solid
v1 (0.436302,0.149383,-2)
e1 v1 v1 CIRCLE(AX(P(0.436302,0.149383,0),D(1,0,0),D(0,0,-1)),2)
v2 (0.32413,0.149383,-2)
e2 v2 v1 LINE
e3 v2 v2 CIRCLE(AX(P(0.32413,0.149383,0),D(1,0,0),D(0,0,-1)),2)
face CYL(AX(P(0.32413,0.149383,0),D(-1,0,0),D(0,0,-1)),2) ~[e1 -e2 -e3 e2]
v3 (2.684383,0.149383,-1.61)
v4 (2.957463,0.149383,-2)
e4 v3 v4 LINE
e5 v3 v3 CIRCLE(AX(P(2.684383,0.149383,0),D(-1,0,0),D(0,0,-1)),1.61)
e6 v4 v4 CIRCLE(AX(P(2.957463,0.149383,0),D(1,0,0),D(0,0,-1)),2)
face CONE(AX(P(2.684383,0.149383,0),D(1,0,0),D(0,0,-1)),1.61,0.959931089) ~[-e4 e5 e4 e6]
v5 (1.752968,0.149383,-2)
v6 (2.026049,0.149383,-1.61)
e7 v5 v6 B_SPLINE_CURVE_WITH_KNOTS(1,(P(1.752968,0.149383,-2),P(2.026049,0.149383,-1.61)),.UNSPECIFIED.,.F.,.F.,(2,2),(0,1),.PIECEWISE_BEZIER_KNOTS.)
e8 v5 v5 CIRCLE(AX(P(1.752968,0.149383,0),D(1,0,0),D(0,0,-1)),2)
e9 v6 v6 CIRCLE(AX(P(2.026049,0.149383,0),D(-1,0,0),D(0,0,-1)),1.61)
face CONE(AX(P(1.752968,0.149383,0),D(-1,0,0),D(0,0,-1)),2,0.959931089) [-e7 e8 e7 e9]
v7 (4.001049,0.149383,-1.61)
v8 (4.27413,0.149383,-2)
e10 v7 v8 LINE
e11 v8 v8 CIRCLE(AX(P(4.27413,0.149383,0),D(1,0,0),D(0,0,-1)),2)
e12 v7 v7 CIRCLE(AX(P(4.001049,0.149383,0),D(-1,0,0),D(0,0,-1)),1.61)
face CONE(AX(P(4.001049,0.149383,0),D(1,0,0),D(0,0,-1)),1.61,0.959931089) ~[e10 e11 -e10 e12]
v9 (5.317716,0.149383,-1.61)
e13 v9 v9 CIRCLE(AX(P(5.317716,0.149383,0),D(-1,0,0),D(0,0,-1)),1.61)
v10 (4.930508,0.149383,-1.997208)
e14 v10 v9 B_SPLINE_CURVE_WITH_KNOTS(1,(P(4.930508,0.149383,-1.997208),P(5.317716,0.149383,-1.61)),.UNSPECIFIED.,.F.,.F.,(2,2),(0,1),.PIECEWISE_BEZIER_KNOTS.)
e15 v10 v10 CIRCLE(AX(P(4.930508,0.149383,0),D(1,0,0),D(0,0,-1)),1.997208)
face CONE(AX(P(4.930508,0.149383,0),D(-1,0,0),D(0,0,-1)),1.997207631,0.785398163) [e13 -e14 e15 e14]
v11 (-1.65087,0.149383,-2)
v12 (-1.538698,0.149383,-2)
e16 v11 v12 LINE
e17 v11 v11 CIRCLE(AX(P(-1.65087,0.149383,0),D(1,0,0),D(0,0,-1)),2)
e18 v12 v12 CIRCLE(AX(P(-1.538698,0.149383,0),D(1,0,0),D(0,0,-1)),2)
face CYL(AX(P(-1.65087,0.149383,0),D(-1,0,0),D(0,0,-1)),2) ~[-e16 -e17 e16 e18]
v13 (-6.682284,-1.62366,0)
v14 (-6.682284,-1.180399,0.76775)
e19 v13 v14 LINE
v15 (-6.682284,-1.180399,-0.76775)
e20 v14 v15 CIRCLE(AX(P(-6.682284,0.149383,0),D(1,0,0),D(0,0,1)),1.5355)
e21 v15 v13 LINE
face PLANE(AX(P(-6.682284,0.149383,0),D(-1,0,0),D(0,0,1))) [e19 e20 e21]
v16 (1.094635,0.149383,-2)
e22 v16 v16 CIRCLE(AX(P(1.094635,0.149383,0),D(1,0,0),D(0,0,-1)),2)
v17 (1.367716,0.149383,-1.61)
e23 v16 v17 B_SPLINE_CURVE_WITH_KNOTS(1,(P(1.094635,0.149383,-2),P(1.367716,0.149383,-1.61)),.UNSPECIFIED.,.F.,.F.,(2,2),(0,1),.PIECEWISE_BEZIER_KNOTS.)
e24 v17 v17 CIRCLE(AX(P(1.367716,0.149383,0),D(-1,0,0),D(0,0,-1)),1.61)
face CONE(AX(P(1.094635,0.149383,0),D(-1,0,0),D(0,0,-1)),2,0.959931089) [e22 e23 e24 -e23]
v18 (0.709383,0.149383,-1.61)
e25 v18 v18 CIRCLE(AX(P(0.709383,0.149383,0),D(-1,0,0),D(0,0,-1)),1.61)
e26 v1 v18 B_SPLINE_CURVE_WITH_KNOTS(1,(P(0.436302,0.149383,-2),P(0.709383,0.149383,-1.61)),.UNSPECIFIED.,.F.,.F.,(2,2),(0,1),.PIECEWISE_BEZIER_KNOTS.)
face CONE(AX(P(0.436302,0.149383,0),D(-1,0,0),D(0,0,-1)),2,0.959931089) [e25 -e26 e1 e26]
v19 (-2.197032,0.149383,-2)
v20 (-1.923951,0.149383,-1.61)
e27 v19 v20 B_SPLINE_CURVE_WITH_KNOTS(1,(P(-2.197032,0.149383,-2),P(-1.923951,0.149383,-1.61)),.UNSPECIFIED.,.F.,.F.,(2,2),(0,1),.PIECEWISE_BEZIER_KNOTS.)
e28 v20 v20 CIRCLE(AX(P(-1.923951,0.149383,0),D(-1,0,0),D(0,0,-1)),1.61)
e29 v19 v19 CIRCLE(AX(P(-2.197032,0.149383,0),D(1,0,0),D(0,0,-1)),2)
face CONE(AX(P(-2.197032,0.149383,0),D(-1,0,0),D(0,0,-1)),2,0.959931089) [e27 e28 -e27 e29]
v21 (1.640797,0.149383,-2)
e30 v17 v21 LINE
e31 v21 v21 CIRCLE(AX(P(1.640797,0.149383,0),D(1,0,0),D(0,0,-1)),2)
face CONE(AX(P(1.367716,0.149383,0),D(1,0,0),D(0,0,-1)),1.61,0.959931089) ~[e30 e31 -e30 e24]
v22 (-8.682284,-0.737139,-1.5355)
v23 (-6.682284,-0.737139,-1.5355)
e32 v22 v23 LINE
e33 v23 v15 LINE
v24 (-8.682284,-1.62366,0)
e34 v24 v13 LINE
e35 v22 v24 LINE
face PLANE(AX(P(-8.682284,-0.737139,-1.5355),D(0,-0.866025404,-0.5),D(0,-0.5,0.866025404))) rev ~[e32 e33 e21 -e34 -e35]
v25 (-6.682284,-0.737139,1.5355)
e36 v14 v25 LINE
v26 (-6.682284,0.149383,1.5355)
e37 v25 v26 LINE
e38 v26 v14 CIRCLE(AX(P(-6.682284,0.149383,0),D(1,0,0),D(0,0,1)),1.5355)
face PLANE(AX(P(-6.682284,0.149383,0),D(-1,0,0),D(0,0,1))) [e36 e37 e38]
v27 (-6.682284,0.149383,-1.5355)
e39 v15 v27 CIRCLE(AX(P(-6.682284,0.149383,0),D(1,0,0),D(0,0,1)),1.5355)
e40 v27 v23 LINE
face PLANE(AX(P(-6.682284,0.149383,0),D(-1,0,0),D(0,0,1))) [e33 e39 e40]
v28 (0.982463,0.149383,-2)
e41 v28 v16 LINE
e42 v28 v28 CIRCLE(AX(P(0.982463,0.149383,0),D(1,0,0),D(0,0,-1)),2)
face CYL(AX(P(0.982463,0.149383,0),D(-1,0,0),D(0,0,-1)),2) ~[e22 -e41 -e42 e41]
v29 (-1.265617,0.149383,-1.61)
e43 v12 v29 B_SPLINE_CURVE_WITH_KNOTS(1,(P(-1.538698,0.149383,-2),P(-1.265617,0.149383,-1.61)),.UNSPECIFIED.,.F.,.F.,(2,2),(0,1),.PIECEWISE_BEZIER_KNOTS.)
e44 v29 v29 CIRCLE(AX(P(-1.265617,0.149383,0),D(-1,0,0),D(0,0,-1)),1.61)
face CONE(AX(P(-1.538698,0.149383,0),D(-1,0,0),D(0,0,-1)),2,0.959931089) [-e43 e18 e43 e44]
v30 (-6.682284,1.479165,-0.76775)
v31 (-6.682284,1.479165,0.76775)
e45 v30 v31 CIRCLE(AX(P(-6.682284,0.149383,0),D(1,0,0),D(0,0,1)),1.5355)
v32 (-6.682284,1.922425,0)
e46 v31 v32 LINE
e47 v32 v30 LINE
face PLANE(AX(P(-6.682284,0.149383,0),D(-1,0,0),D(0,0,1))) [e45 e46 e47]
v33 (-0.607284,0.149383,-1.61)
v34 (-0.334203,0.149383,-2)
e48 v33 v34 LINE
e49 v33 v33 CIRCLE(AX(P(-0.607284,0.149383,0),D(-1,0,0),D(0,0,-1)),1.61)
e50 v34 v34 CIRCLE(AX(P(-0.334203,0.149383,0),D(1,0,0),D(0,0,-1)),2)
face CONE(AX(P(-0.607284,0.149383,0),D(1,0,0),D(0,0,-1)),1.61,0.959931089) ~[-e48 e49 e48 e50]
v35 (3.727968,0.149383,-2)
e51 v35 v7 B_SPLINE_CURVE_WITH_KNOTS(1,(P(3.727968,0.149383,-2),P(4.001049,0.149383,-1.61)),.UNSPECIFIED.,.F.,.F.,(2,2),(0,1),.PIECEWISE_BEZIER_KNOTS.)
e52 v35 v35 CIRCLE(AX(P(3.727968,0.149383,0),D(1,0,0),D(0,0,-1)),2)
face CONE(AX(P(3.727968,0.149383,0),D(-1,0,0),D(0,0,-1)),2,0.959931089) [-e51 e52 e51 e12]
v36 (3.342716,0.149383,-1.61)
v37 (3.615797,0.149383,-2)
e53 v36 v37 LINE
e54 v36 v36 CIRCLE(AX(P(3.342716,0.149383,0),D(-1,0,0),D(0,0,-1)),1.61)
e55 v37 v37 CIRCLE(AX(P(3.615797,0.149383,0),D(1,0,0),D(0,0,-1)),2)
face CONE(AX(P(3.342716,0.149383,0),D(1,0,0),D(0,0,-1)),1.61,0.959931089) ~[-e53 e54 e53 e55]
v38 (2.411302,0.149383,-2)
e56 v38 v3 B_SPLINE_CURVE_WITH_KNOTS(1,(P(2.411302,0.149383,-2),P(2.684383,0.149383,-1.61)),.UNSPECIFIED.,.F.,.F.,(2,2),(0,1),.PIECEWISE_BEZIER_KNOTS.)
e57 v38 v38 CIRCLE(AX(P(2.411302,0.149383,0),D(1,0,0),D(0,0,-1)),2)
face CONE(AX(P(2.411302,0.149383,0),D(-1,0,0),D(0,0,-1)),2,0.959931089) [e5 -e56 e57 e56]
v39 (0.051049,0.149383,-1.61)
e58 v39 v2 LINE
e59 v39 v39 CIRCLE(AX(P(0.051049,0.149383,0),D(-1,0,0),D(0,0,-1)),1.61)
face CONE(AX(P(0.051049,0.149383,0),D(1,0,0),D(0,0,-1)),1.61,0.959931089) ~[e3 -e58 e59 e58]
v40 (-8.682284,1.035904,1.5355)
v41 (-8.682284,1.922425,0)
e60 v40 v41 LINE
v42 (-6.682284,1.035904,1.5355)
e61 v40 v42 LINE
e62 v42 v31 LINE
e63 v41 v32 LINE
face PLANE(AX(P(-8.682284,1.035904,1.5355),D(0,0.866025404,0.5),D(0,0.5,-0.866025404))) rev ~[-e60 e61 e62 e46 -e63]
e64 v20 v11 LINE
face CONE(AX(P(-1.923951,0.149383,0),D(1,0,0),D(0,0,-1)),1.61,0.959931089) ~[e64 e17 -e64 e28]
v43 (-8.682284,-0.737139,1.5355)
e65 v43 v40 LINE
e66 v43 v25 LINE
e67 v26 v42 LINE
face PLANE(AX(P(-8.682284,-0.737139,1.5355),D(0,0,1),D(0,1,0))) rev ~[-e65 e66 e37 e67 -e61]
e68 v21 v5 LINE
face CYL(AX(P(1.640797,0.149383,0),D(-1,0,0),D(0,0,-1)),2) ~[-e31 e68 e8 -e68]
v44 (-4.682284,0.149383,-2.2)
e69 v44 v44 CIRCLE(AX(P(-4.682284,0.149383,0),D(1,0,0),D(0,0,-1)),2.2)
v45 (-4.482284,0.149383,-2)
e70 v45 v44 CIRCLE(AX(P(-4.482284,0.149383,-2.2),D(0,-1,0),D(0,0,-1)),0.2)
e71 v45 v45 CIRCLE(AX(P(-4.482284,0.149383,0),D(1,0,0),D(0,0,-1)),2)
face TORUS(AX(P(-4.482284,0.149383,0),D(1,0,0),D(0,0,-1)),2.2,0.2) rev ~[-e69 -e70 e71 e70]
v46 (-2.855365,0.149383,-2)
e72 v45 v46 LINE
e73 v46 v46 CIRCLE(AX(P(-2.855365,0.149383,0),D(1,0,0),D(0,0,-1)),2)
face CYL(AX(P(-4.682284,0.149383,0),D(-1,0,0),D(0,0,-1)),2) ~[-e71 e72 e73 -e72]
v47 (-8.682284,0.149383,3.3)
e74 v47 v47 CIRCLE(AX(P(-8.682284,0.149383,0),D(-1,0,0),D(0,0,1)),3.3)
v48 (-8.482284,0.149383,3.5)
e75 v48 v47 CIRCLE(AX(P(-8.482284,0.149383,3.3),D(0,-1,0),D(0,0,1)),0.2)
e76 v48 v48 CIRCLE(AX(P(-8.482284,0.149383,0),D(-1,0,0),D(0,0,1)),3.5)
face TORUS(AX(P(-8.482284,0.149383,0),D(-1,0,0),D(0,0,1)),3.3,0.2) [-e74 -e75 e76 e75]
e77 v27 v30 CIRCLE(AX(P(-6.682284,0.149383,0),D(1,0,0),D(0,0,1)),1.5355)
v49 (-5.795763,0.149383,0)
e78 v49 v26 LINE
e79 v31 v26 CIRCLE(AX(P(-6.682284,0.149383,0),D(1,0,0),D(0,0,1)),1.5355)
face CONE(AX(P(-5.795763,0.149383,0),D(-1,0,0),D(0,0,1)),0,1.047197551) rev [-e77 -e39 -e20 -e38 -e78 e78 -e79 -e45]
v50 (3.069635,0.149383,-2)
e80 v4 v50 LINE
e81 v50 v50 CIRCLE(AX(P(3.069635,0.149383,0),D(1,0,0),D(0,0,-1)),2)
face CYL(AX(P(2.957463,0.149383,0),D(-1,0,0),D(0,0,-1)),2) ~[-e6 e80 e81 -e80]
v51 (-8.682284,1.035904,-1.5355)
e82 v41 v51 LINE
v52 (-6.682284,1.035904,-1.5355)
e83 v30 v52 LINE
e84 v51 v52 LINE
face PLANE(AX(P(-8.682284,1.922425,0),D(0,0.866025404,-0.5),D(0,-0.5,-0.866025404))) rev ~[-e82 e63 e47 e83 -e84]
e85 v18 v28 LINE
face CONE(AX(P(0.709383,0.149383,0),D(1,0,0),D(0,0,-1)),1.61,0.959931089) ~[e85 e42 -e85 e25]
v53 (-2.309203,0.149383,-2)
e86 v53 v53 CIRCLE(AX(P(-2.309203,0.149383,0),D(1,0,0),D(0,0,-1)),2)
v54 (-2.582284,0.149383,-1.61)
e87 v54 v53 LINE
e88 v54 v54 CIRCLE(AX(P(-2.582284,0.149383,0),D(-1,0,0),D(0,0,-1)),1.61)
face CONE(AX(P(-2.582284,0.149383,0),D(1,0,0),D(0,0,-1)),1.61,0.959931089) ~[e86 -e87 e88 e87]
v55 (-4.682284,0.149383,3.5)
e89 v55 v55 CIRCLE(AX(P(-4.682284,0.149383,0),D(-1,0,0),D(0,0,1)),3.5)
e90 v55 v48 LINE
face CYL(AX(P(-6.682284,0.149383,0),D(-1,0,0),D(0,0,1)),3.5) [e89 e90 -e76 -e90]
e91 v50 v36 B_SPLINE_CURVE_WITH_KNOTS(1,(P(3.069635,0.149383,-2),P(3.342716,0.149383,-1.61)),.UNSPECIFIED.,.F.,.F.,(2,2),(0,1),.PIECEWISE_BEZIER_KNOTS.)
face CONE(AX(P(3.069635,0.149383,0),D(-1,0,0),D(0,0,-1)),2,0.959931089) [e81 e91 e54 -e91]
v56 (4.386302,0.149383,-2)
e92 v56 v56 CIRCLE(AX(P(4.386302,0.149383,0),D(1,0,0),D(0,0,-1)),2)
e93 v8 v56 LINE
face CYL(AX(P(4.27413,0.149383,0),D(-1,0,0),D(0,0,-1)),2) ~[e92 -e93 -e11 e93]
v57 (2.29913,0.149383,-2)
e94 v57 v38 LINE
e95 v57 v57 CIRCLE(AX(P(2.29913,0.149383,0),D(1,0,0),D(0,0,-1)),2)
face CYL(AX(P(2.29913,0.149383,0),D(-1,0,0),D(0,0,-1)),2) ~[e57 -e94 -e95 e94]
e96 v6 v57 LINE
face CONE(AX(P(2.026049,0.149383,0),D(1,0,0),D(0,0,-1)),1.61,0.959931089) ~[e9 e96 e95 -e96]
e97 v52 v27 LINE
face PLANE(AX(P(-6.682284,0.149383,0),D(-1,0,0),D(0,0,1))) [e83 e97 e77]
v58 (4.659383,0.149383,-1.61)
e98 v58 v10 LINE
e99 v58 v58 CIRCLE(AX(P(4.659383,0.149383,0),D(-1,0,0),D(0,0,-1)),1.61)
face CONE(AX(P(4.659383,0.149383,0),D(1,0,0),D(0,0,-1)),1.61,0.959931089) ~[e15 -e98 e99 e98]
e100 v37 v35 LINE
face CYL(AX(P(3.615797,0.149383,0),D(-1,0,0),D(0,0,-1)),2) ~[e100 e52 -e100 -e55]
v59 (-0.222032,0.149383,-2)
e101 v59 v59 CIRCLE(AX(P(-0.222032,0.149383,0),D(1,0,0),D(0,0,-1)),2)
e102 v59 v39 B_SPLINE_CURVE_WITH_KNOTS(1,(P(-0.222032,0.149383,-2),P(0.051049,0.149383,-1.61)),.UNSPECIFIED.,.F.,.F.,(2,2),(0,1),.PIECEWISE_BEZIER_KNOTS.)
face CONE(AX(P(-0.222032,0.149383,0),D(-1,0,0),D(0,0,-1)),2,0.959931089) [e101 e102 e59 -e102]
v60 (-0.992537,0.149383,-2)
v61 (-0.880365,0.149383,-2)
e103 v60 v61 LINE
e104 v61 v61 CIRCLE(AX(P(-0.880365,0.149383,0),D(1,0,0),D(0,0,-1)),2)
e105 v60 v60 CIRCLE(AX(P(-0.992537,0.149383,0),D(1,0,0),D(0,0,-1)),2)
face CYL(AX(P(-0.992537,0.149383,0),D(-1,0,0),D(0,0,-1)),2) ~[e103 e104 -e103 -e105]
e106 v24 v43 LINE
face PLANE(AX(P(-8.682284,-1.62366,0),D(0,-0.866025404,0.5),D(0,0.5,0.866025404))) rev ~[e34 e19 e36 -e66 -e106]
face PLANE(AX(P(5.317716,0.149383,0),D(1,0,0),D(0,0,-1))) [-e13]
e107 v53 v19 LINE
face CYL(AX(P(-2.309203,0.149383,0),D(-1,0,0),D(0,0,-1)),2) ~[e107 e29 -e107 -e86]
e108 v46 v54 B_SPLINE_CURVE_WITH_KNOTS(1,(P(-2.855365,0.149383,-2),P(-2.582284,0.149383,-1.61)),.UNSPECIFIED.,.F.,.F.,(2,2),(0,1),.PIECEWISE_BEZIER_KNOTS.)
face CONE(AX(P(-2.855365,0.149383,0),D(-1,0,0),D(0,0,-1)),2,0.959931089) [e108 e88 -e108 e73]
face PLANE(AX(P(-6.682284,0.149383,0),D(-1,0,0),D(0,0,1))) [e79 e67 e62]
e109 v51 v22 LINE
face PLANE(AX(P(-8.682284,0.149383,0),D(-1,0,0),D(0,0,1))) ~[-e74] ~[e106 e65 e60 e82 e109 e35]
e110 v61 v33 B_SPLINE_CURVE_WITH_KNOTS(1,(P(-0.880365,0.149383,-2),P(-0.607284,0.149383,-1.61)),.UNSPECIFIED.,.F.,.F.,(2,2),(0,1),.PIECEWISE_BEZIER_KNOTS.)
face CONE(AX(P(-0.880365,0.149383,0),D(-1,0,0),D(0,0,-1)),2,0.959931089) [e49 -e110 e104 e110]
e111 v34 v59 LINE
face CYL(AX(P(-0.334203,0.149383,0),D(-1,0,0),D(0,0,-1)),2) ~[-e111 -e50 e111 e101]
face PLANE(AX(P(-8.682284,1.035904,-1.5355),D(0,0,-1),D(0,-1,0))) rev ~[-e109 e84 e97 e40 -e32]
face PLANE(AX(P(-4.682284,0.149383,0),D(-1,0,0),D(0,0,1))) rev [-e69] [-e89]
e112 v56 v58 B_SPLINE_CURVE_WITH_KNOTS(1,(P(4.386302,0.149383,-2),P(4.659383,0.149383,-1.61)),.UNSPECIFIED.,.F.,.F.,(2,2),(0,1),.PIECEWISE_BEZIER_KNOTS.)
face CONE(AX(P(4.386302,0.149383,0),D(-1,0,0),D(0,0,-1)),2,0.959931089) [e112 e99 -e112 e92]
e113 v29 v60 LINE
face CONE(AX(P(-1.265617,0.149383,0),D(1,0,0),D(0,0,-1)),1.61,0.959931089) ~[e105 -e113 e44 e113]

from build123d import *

# Parameters (mm, degrees)
SKETCH1_W            = 4
SKETCH1_H            = 3.5
SKETCH2_R            = 2
BOSS_EXTRUDE1_DEPTH  = 1.82691906
SKETCH3_R            = 2
BOSS_EXTRUDE2_DEPTH  = 0.27308094
BOSS_EXTRUDE2_TAPER  = 55
SKETCH4_R            = 1.61
BOSS_EXTRUDE3_DEPTH  = 0.27308094
BOSS_EXTRUDE3_DRAFT  = -55
SKETCH5_R            = 2
BOSS_EXTRUDE4_DEPTH  = 0.112171454
SKETCH6_R            = 2
BOSS_EXTRUDE5_DEPTH  = 0.27308094
BOSS_EXTRUDE5_TAPER  = 55
SKETCH7_R            = 1.61
BOSS_EXTRUDE6_DEPTH  = 0.27308094
BOSS_EXTRUDE6_DRAFT  = -55
SKETCH8_R            = 2
BOSS_EXTRUDE7_DEPTH  = 0.112171454
SKETCH9_R            = 2
BOSS_EXTRUDE8_DEPTH  = 0.27308094
BOSS_EXTRUDE8_TAPER  = 55
SKETCH10_R           = 1.61
BOSS_EXTRUDE9_DEPTH  = 0.27308094
BOSS_EXTRUDE9_DRAFT  = -55
SKETCH11_R           = 2
BOSS_EXTRUDE10_DEPTH = 0.112171454
SKETCH12_R           = 2
BOSS_EXTRUDE11_DEPTH = 0.27308094
BOSS_EXTRUDE11_TAPER = 55
SKETCH13_R           = 1.61
BOSS_EXTRUDE12_DEPTH = 0.27308094
BOSS_EXTRUDE12_DRAFT = -55
SKETCH14_R           = 2
BOSS_EXTRUDE13_DEPTH = 0.112171454
SKETCH15_R           = 2
BOSS_EXTRUDE14_DEPTH = 0.27308094
BOSS_EXTRUDE14_TAPER = 55
SKETCH16_R           = 1.61
BOSS_EXTRUDE15_DEPTH = 0.27308094
BOSS_EXTRUDE15_DRAFT = -55
SKETCH17_R           = 2
BOSS_EXTRUDE16_DEPTH = 0.112171454
SKETCH18_R           = 2
BOSS_EXTRUDE17_DEPTH = 0.27308094
BOSS_EXTRUDE17_TAPER = 55
SKETCH19_R           = 1.61
BOSS_EXTRUDE18_DEPTH = 0.27308094
BOSS_EXTRUDE18_DRAFT = -55
SKETCH20_R           = 2
BOSS_EXTRUDE19_DEPTH = 0.112171454
SKETCH21_R           = 2
BOSS_EXTRUDE20_DEPTH = 0.27308094
BOSS_EXTRUDE20_TAPER = 55
SKETCH22_R           = 1.61
BOSS_EXTRUDE21_DEPTH = 0.27308094
BOSS_EXTRUDE21_DRAFT = -55
SKETCH23_R           = 2
BOSS_EXTRUDE22_DEPTH = 0.112171454
SKETCH24_R           = 2
BOSS_EXTRUDE23_DEPTH = 0.27308094
BOSS_EXTRUDE23_TAPER = 55
SKETCH25_R           = 1.61
BOSS_EXTRUDE24_DEPTH = 0.27308094
BOSS_EXTRUDE24_DRAFT = -55
SKETCH26_R           = 2
BOSS_EXTRUDE25_DEPTH = 0.112171454
SKETCH27_R           = 2
BOSS_EXTRUDE26_DEPTH = 0.27308094
BOSS_EXTRUDE26_TAPER = 55
SKETCH28_R           = 1.61
BOSS_EXTRUDE27_DEPTH = 0.27308094
BOSS_EXTRUDE27_DRAFT = -55
SKETCH29_R           = 2
BOSS_EXTRUDE28_DEPTH = 0.112171454
SKETCH30_R           = 2
BOSS_EXTRUDE29_DEPTH = 0.27308094
BOSS_EXTRUDE29_TAPER = 55
SKETCH31_R           = 1.61
BOSS_EXTRUDE30_DEPTH = 0.27308094
BOSS_EXTRUDE30_DRAFT = -55
SKETCH32_R           = 2
BOSS_EXTRUDE31_DEPTH = 0.112171454
SKETCH33_R           = 2
BOSS_EXTRUDE32_DEPTH = 0.27308094
BOSS_EXTRUDE32_TAPER = 55
SKETCH34_R           = 1.61
BOSS_EXTRUDE33_DEPTH = 0.27308094
BOSS_EXTRUDE33_DRAFT = -55
SKETCH35_R           = 2
BOSS_EXTRUDE34_DEPTH = 0.112171454
SKETCH36_R           = 2
BOSS_EXTRUDE35_DEPTH = 0.27308094
BOSS_EXTRUDE35_TAPER = 55
SKETCH37_R           = 1.61
BOSS_EXTRUDE36_DEPTH = 0.271125702
BOSS_EXTRUDE36_DRAFT = -55
SKETCH38_R           = 1.997207631
BOSS_EXTRUDE37_DEPTH = 0.387207631
BOSS_EXTRUDE37_TAPER = 45
CUT_EXTRUDE1_DEPTH   = 2
FILLET1_R            = 0.2


with BuildPart() as part:
    # Sketch1 → Revolve1 (revolve)
    with BuildSketch(Plane(origin=(0, 0, 0), x_dir=(-1, 0, 0), z_dir=(0, 0, -1)), mode=Mode.PRIVATE) as revolve1_sk:
        with Locations((6.682284139, 1.899382545)):
            Rectangle(SKETCH1_W, SKETCH1_H)
    revolve(revolve1_sk.sketch.rotate(Axis((-4.682284139, 0.149382545, 0), (-1, 0, 0)), 270), axis=Axis((-4.682284139, 0.149382545, 0), (-1, 0, 0)))

    # Sketch2 → Boss-Extrude1 (add)
    with BuildSketch(Plane(origin=(-4.682284139, 0, 0), x_dir=(0, 0, -1), z_dir=(1, 0, 0))):
        with Locations((0, 0.149382545)):
            Circle(SKETCH2_R)
    extrude(amount=BOSS_EXTRUDE1_DEPTH)

    # Sketch3 → Boss-Extrude2 (add)
    with BuildSketch(Plane(origin=(-2.855365079, 0, 0), x_dir=(0, 0, -1), z_dir=(1, 0, 0))):
        with Locations((0, 0.149382545)):
            Circle(SKETCH3_R)
    extrude(amount=BOSS_EXTRUDE2_DEPTH, taper=BOSS_EXTRUDE2_TAPER)


with BuildPart() as boss_extrude3_tool:
    # Sketch4 → Boss-Extrude3 (with draft: the straight prism first)
    with BuildSketch(Plane(origin=(-2.582284139, 0, 0), x_dir=(0, 0, -1), z_dir=(1, 0, 0))):
        with Locations((0, 0.149382545)):
            Circle(SKETCH4_R)
    extrude(amount=BOSS_EXTRUDE3_DEPTH)
    # Boss-Extrude3: the draft: its side faces are tilted about the plane it starts from
    boss_extrude3_sides = [boss_extrude3_tool.faces().sort_by_distance(p)[0] for p in [
        (-2.445743669, 0.149382545, 1.61),
    ]]
    draft(boss_extrude3_sides, Plane(origin=(-2.582284139, 0, 0), x_dir=(0, 0, -1), z_dir=(1, 0, 0)), BOSS_EXTRUDE3_DRAFT)


with BuildPart() as part_1:
    add(part.part)

    # Boss-Extrude3: add boss_extrude3_tool
    add(boss_extrude3_tool.part)

    # Sketch5 → Boss-Extrude4 (add)
    with BuildSketch(Plane(origin=(-2.309203199, 0, 0), x_dir=(0, 0, -1), z_dir=(1, 0, 0))):
        with Locations((0, 0.149382545)):
            Circle(SKETCH5_R)
    extrude(amount=BOSS_EXTRUDE4_DEPTH)

    # Sketch6 → Boss-Extrude5 (add)
    with BuildSketch(Plane(origin=(-2.197031746, 0, 0), x_dir=(0, 0, -1), z_dir=(1, 0, 0))):
        with Locations((0, 0.149382545)):
            Circle(SKETCH6_R)
    extrude(amount=BOSS_EXTRUDE5_DEPTH, taper=BOSS_EXTRUDE5_TAPER)


with BuildPart() as boss_extrude6_tool:
    # Sketch7 → Boss-Extrude6 (with draft: the straight prism first)
    with BuildSketch(Plane(origin=(-1.923950806, 0, 0), x_dir=(0, 0, -1), z_dir=(1, 0, 0))):
        with Locations((0, 0.149382545)):
            Circle(SKETCH7_R)
    extrude(amount=BOSS_EXTRUDE6_DEPTH)
    # Boss-Extrude6: the draft: its side faces are tilted about the plane it starts from
    boss_extrude6_sides = [boss_extrude6_tool.faces().sort_by_distance(p)[0] for p in [
        (-1.787410336, 0.149382545, 1.61),
    ]]
    draft(boss_extrude6_sides, Plane(origin=(-1.923950806, 0, 0), x_dir=(0, 0, -1), z_dir=(1, 0, 0)), BOSS_EXTRUDE6_DRAFT)


with BuildPart() as part_2:
    add(part_1.part)

    # Boss-Extrude6: add boss_extrude6_tool
    add(boss_extrude6_tool.part)

    # Sketch8 → Boss-Extrude7 (add)
    with BuildSketch(Plane(origin=(-1.650869866, 0, 0), x_dir=(0, 0, -1), z_dir=(1, 0, 0))):
        with Locations((0, 0.149382545)):
            Circle(SKETCH8_R)
    extrude(amount=BOSS_EXTRUDE7_DEPTH)

    # Sketch9 → Boss-Extrude8 (add)
    with BuildSketch(Plane(origin=(-1.538698412, 0, 0), x_dir=(0, 0, -1), z_dir=(1, 0, 0))):
        with Locations((0, 0.149382545)):
            Circle(SKETCH9_R)
    extrude(amount=BOSS_EXTRUDE8_DEPTH, taper=BOSS_EXTRUDE8_TAPER)


with BuildPart() as boss_extrude9_tool:
    # Sketch10 → Boss-Extrude9 (with draft: the straight prism first)
    with BuildSketch(Plane(origin=(-1.265617472, 0, 0), x_dir=(0, 0, -1), z_dir=(1, 0, 0))):
        with Locations((0, 0.149382545)):
            Circle(SKETCH10_R)
    extrude(amount=BOSS_EXTRUDE9_DEPTH)
    # Boss-Extrude9: the draft: its side faces are tilted about the plane it starts from
    boss_extrude9_sides = [boss_extrude9_tool.faces().sort_by_distance(p)[0] for p in [
        (-1.129077002, 0.149382545, 1.61),
    ]]
    draft(boss_extrude9_sides, Plane(origin=(-1.265617472, 0, 0), x_dir=(0, 0, -1), z_dir=(1, 0, 0)), BOSS_EXTRUDE9_DRAFT)


with BuildPart() as part_3:
    add(part_2.part)

    # Boss-Extrude9: add boss_extrude9_tool
    add(boss_extrude9_tool.part)

    # Sketch11 → Boss-Extrude10 (add)
    with BuildSketch(Plane(origin=(-0.992536532, 0, 0), x_dir=(0, 0, -1), z_dir=(1, 0, 0))):
        with Locations((0, 0.149382545)):
            Circle(SKETCH11_R)
    extrude(amount=BOSS_EXTRUDE10_DEPTH)

    # Sketch12 → Boss-Extrude11 (add)
    with BuildSketch(Plane(origin=(-0.880365079, 0, 0), x_dir=(0, 0, -1), z_dir=(1, 0, 0))):
        with Locations((0, 0.149382545)):
            Circle(SKETCH12_R)
    extrude(amount=BOSS_EXTRUDE11_DEPTH, taper=BOSS_EXTRUDE11_TAPER)


with BuildPart() as boss_extrude12_tool:
    # Sketch13 → Boss-Extrude12 (with draft: the straight prism first)
    with BuildSketch(Plane(origin=(-0.607284139, 0, 0), x_dir=(0, 0, -1), z_dir=(1, 0, 0))):
        with Locations((0, 0.149382545)):
            Circle(SKETCH13_R)
    extrude(amount=BOSS_EXTRUDE12_DEPTH)
    # Boss-Extrude12: the draft: its side faces are tilted about the plane it starts from
    boss_extrude12_sides = [boss_extrude12_tool.faces().sort_by_distance(p)[0] for p in [
        (-0.470743669, 0.149382545, 1.61),
    ]]
    draft(boss_extrude12_sides, Plane(origin=(-0.607284139, 0, 0), x_dir=(0, 0, -1), z_dir=(1, 0, 0)), BOSS_EXTRUDE12_DRAFT)


with BuildPart() as part_4:
    add(part_3.part)

    # Boss-Extrude12: add boss_extrude12_tool
    add(boss_extrude12_tool.part)

    # Sketch14 → Boss-Extrude13 (add)
    with BuildSketch(Plane(origin=(-0.334203199, 0, 0), x_dir=(0, 0, -1), z_dir=(1, 0, 0))):
        with Locations((0, 0.149382545)):
            Circle(SKETCH14_R)
    extrude(amount=BOSS_EXTRUDE13_DEPTH)

    # Sketch15 → Boss-Extrude14 (add)
    with BuildSketch(Plane(origin=(-0.222031746, 0, 0), x_dir=(0, 0, -1), z_dir=(1, 0, 0))):
        with Locations((0, 0.149382545)):
            Circle(SKETCH15_R)
    extrude(amount=BOSS_EXTRUDE14_DEPTH, taper=BOSS_EXTRUDE14_TAPER)


with BuildPart() as boss_extrude15_tool:
    # Sketch16 → Boss-Extrude15 (with draft: the straight prism first)
    with BuildSketch(Plane(origin=(0.051049194, 0, 0), x_dir=(0, 0, -1), z_dir=(1, 0, 0))):
        with Locations((0, 0.149382545)):
            Circle(SKETCH16_R)
    extrude(amount=BOSS_EXTRUDE15_DEPTH)
    # Boss-Extrude15: the draft: its side faces are tilted about the plane it starts from
    boss_extrude15_sides = [boss_extrude15_tool.faces().sort_by_distance(p)[0] for p in [
        (0.187589664, 0.149382545, 1.61),
    ]]
    draft(boss_extrude15_sides, Plane(origin=(0.051049194, 0, 0), x_dir=(0, 0, -1), z_dir=(1, 0, 0)), BOSS_EXTRUDE15_DRAFT)


with BuildPart() as part_5:
    add(part_4.part)

    # Boss-Extrude15: add boss_extrude15_tool
    add(boss_extrude15_tool.part)

    # Sketch17 → Boss-Extrude16 (add)
    with BuildSketch(Plane(origin=(0.324130134, 0, 0), x_dir=(0, 0, -1), z_dir=(1, 0, 0))):
        with Locations((0, 0.149382545)):
            Circle(SKETCH17_R)
    extrude(amount=BOSS_EXTRUDE16_DEPTH)

    # Sketch18 → Boss-Extrude17 (add)
    with BuildSketch(Plane(origin=(0.436301588, 0, 0), x_dir=(0, 0, -1), z_dir=(1, 0, 0))):
        with Locations((0, 0.149382545)):
            Circle(SKETCH18_R)
    extrude(amount=BOSS_EXTRUDE17_DEPTH, taper=BOSS_EXTRUDE17_TAPER)


with BuildPart() as boss_extrude18_tool:
    # Sketch19 → Boss-Extrude18 (with draft: the straight prism first)
    with BuildSketch(Plane(origin=(0.709382528, 0, 0), x_dir=(0, 0, -1), z_dir=(1, 0, 0))):
        with Locations((0, 0.149382545)):
            Circle(SKETCH19_R)
    extrude(amount=BOSS_EXTRUDE18_DEPTH)
    # Boss-Extrude18: the draft: its side faces are tilted about the plane it starts from
    boss_extrude18_sides = [boss_extrude18_tool.faces().sort_by_distance(p)[0] for p in [
        (0.845922998, 0.149382545, 1.61),
    ]]
    draft(boss_extrude18_sides, Plane(origin=(0.709382528, 0, 0), x_dir=(0, 0, -1), z_dir=(1, 0, 0)), BOSS_EXTRUDE18_DRAFT)


with BuildPart() as part_6:
    add(part_5.part)

    # Boss-Extrude18: add boss_extrude18_tool
    add(boss_extrude18_tool.part)

    # Sketch20 → Boss-Extrude19 (add)
    with BuildSketch(Plane(origin=(0.982463468, 0, 0), x_dir=(0, 0, -1), z_dir=(1, 0, 0))):
        with Locations((0, 0.149382545)):
            Circle(SKETCH20_R)
    extrude(amount=BOSS_EXTRUDE19_DEPTH)

    # Sketch21 → Boss-Extrude20 (add)
    with BuildSketch(Plane(origin=(1.094634921, 0, 0), x_dir=(0, 0, -1), z_dir=(1, 0, 0))):
        with Locations((0, 0.149382545)):
            Circle(SKETCH21_R)
    extrude(amount=BOSS_EXTRUDE20_DEPTH, taper=BOSS_EXTRUDE20_TAPER)


with BuildPart() as boss_extrude21_tool:
    # Sketch22 → Boss-Extrude21 (with draft: the straight prism first)
    with BuildSketch(Plane(origin=(1.367715861, 0, 0), x_dir=(0, 0, -1), z_dir=(1, 0, 0))):
        with Locations((0, 0.149382545)):
            Circle(SKETCH22_R)
    extrude(amount=BOSS_EXTRUDE21_DEPTH)
    # Boss-Extrude21: the draft: its side faces are tilted about the plane it starts from
    boss_extrude21_sides = [boss_extrude21_tool.faces().sort_by_distance(p)[0] for p in [
        (1.504256331, 0.149382545, 1.61),
    ]]
    draft(boss_extrude21_sides, Plane(origin=(1.367715861, 0, 0), x_dir=(0, 0, -1), z_dir=(1, 0, 0)), BOSS_EXTRUDE21_DRAFT)


with BuildPart() as part_7:
    add(part_6.part)

    # Boss-Extrude21: add boss_extrude21_tool
    add(boss_extrude21_tool.part)

    # Sketch23 → Boss-Extrude22 (add)
    with BuildSketch(Plane(origin=(1.640796801, 0, 0), x_dir=(0, 0, -1), z_dir=(1, 0, 0))):
        with Locations((0, 0.149382545)):
            Circle(SKETCH23_R)
    extrude(amount=BOSS_EXTRUDE22_DEPTH)

    # Sketch24 → Boss-Extrude23 (add)
    with BuildSketch(Plane(origin=(1.752968254, 0, 0), x_dir=(0, 0, -1), z_dir=(1, 0, 0))):
        with Locations((0, 0.149382545)):
            Circle(SKETCH24_R)
    extrude(amount=BOSS_EXTRUDE23_DEPTH, taper=BOSS_EXTRUDE23_TAPER)


with BuildPart() as boss_extrude24_tool:
    # Sketch25 → Boss-Extrude24 (with draft: the straight prism first)
    with BuildSketch(Plane(origin=(2.026049194, 0, 0), x_dir=(0, 0, -1), z_dir=(1, 0, 0))):
        with Locations((0, 0.149382545)):
            Circle(SKETCH25_R)
    extrude(amount=BOSS_EXTRUDE24_DEPTH)
    # Boss-Extrude24: the draft: its side faces are tilted about the plane it starts from
    boss_extrude24_sides = [boss_extrude24_tool.faces().sort_by_distance(p)[0] for p in [
        (2.162589664, 0.149382545, 1.61),
    ]]
    draft(boss_extrude24_sides, Plane(origin=(2.026049194, 0, 0), x_dir=(0, 0, -1), z_dir=(1, 0, 0)), BOSS_EXTRUDE24_DRAFT)


with BuildPart() as part_8:
    add(part_7.part)

    # Boss-Extrude24: add boss_extrude24_tool
    add(boss_extrude24_tool.part)

    # Sketch26 → Boss-Extrude25 (add)
    with BuildSketch(Plane(origin=(2.299130134, 0, 0), x_dir=(0, 0, -1), z_dir=(1, 0, 0))):
        with Locations((0, 0.149382545)):
            Circle(SKETCH26_R)
    extrude(amount=BOSS_EXTRUDE25_DEPTH)

    # Sketch27 → Boss-Extrude26 (add)
    with BuildSketch(Plane(origin=(2.411301588, 0, 0), x_dir=(0, 0, -1), z_dir=(1, 0, 0))):
        with Locations((0, 0.149382545)):
            Circle(SKETCH27_R)
    extrude(amount=BOSS_EXTRUDE26_DEPTH, taper=BOSS_EXTRUDE26_TAPER)


with BuildPart() as boss_extrude27_tool:
    # Sketch28 → Boss-Extrude27 (with draft: the straight prism first)
    with BuildSketch(Plane(origin=(2.684382528, 0, 0), x_dir=(0, 0, -1), z_dir=(1, 0, 0))):
        with Locations((0, 0.149382545)):
            Circle(SKETCH28_R)
    extrude(amount=BOSS_EXTRUDE27_DEPTH)
    # Boss-Extrude27: the draft: its side faces are tilted about the plane it starts from
    boss_extrude27_sides = [boss_extrude27_tool.faces().sort_by_distance(p)[0] for p in [
        (2.820922998, 0.149382545, 1.61),
    ]]
    draft(boss_extrude27_sides, Plane(origin=(2.684382528, 0, 0), x_dir=(0, 0, -1), z_dir=(1, 0, 0)), BOSS_EXTRUDE27_DRAFT)


with BuildPart() as part_9:
    add(part_8.part)

    # Boss-Extrude27: add boss_extrude27_tool
    add(boss_extrude27_tool.part)

    # Sketch29 → Boss-Extrude28 (add)
    with BuildSketch(Plane(origin=(2.957463468, 0, 0), x_dir=(0, 0, -1), z_dir=(1, 0, 0))):
        with Locations((0, 0.149382545)):
            Circle(SKETCH29_R)
    extrude(amount=BOSS_EXTRUDE28_DEPTH)

    # Sketch30 → Boss-Extrude29 (add)
    with BuildSketch(Plane(origin=(3.069634921, 0, 0), x_dir=(0, 0, -1), z_dir=(1, 0, 0))):
        with Locations((0, 0.149382545)):
            Circle(SKETCH30_R)
    extrude(amount=BOSS_EXTRUDE29_DEPTH, taper=BOSS_EXTRUDE29_TAPER)


with BuildPart() as boss_extrude30_tool:
    # Sketch31 → Boss-Extrude30 (with draft: the straight prism first)
    with BuildSketch(Plane(origin=(3.342715861, 0, 0), x_dir=(0, 0, -1), z_dir=(1, 0, 0))):
        with Locations((0, 0.149382545)):
            Circle(SKETCH31_R)
    extrude(amount=BOSS_EXTRUDE30_DEPTH)
    # Boss-Extrude30: the draft: its side faces are tilted about the plane it starts from
    boss_extrude30_sides = [boss_extrude30_tool.faces().sort_by_distance(p)[0] for p in [
        (3.479256331, 0.149382545, 1.61),
    ]]
    draft(boss_extrude30_sides, Plane(origin=(3.342715861, 0, 0), x_dir=(0, 0, -1), z_dir=(1, 0, 0)), BOSS_EXTRUDE30_DRAFT)


with BuildPart() as part_10:
    add(part_9.part)

    # Boss-Extrude30: add boss_extrude30_tool
    add(boss_extrude30_tool.part)

    # Sketch32 → Boss-Extrude31 (add)
    with BuildSketch(Plane(origin=(3.615796801, 0, 0), x_dir=(0, 0, -1), z_dir=(1, 0, 0))):
        with Locations((0, 0.149382545)):
            Circle(SKETCH32_R)
    extrude(amount=BOSS_EXTRUDE31_DEPTH)

    # Sketch33 → Boss-Extrude32 (add)
    with BuildSketch(Plane(origin=(3.727968254, 0, 0), x_dir=(0, 0, -1), z_dir=(1, 0, 0))):
        with Locations((0, 0.149382545)):
            Circle(SKETCH33_R)
    extrude(amount=BOSS_EXTRUDE32_DEPTH, taper=BOSS_EXTRUDE32_TAPER)


with BuildPart() as boss_extrude33_tool:
    # Sketch34 → Boss-Extrude33 (with draft: the straight prism first)
    with BuildSketch(Plane(origin=(4.001049194, 0, 0), x_dir=(0, 0, -1), z_dir=(1, 0, 0))):
        with Locations((0, 0.149382545)):
            Circle(SKETCH34_R)
    extrude(amount=BOSS_EXTRUDE33_DEPTH)
    # Boss-Extrude33: the draft: its side faces are tilted about the plane it starts from
    boss_extrude33_sides = [boss_extrude33_tool.faces().sort_by_distance(p)[0] for p in [
        (4.137589664, 0.149382545, 1.61),
    ]]
    draft(boss_extrude33_sides, Plane(origin=(4.001049194, 0, 0), x_dir=(0, 0, -1), z_dir=(1, 0, 0)), BOSS_EXTRUDE33_DRAFT)


with BuildPart() as part_11:
    add(part_10.part)

    # Boss-Extrude33: add boss_extrude33_tool
    add(boss_extrude33_tool.part)

    # Sketch35 → Boss-Extrude34 (add)
    with BuildSketch(Plane(origin=(4.274130134, 0, 0), x_dir=(0, 0, -1), z_dir=(1, 0, 0))):
        with Locations((0, 0.149382545)):
            Circle(SKETCH35_R)
    extrude(amount=BOSS_EXTRUDE34_DEPTH)

    # Sketch36 → Boss-Extrude35 (add)
    with BuildSketch(Plane(origin=(4.386301588, 0, 0), x_dir=(0, 0, -1), z_dir=(1, 0, 0))):
        with Locations((0, 0.149382545)):
            Circle(SKETCH36_R)
    extrude(amount=BOSS_EXTRUDE35_DEPTH, taper=BOSS_EXTRUDE35_TAPER)


with BuildPart() as boss_extrude36_tool:
    # Sketch37 → Boss-Extrude36 (with draft: the straight prism first)
    with BuildSketch(Plane(origin=(4.659382528, 0, 0), x_dir=(0, 0, -1), z_dir=(1, 0, 0))):
        with Locations((0, 0.149382545)):
            Circle(SKETCH37_R)
    extrude(amount=BOSS_EXTRUDE36_DEPTH)
    # Boss-Extrude36: the draft: its side faces are tilted about the plane it starts from
    boss_extrude36_sides = [boss_extrude36_tool.faces().sort_by_distance(p)[0] for p in [
        (4.794945379, 0.149382545, 1.61),
    ]]
    draft(boss_extrude36_sides, Plane(origin=(4.659382528, 0, 0), x_dir=(0, 0, -1), z_dir=(1, 0, 0)), BOSS_EXTRUDE36_DRAFT)


with BuildPart() as part_12:
    add(part_11.part)

    # Boss-Extrude36: add boss_extrude36_tool
    add(boss_extrude36_tool.part)

    # Sketch38 → Boss-Extrude37 (add)
    with BuildSketch(Plane(origin=(4.93050823, 0, 0), x_dir=(0, 0, -1), z_dir=(1, 0, 0))):
        with Locations((0, 0.149382545)):
            Circle(SKETCH38_R)
    extrude(amount=BOSS_EXTRUDE37_DEPTH, taper=BOSS_EXTRUDE37_TAPER)

    # Sketch39 → Cut-Extrude1 (cut)
    with BuildSketch(Plane.ZY.offset(8.682284139)):
        Polygon((0, -1.623660131), (1.5355, -0.737138793), (1.5355, 1.035903884), (0, 1.922425222), (-1.5355, 1.035903884), (-1.5355, -0.737138793), align=None)
    extrude(amount=-CUT_EXTRUDE1_DEPTH, mode=Mode.SUBTRACT)

    # Sketch40 → Cut-Revolve1 (revolve, cut)
    with BuildSketch(Plane.XY, mode=Mode.PRIVATE) as cut_revolve1_sk:
        Polygon((-6.682284139, 1.684882545), (-6.682284139, 0.149382545), (-5.795762801, 0.149382545), align=None)
    revolve(cut_revolve1_sk.sketch.rotate(Axis((-6.682284139, 0.149382545, 0), (1, 0, 0)), 90), axis=Axis((-6.682284139, 0.149382545, 0), (1, 0, 0)), mode=Mode.SUBTRACT)

    # Fillet1
    fillet1_edges = [part_12.edges().sort_by_distance(p)[0] for p in [
        (-8.682284139, 0.149382545, -3.5),
        (-4.682284139, 0.149382545, 2),
    ]]
    fillet(fillet1_edges, radius=FILLET1_R)


solid = part_12.part
